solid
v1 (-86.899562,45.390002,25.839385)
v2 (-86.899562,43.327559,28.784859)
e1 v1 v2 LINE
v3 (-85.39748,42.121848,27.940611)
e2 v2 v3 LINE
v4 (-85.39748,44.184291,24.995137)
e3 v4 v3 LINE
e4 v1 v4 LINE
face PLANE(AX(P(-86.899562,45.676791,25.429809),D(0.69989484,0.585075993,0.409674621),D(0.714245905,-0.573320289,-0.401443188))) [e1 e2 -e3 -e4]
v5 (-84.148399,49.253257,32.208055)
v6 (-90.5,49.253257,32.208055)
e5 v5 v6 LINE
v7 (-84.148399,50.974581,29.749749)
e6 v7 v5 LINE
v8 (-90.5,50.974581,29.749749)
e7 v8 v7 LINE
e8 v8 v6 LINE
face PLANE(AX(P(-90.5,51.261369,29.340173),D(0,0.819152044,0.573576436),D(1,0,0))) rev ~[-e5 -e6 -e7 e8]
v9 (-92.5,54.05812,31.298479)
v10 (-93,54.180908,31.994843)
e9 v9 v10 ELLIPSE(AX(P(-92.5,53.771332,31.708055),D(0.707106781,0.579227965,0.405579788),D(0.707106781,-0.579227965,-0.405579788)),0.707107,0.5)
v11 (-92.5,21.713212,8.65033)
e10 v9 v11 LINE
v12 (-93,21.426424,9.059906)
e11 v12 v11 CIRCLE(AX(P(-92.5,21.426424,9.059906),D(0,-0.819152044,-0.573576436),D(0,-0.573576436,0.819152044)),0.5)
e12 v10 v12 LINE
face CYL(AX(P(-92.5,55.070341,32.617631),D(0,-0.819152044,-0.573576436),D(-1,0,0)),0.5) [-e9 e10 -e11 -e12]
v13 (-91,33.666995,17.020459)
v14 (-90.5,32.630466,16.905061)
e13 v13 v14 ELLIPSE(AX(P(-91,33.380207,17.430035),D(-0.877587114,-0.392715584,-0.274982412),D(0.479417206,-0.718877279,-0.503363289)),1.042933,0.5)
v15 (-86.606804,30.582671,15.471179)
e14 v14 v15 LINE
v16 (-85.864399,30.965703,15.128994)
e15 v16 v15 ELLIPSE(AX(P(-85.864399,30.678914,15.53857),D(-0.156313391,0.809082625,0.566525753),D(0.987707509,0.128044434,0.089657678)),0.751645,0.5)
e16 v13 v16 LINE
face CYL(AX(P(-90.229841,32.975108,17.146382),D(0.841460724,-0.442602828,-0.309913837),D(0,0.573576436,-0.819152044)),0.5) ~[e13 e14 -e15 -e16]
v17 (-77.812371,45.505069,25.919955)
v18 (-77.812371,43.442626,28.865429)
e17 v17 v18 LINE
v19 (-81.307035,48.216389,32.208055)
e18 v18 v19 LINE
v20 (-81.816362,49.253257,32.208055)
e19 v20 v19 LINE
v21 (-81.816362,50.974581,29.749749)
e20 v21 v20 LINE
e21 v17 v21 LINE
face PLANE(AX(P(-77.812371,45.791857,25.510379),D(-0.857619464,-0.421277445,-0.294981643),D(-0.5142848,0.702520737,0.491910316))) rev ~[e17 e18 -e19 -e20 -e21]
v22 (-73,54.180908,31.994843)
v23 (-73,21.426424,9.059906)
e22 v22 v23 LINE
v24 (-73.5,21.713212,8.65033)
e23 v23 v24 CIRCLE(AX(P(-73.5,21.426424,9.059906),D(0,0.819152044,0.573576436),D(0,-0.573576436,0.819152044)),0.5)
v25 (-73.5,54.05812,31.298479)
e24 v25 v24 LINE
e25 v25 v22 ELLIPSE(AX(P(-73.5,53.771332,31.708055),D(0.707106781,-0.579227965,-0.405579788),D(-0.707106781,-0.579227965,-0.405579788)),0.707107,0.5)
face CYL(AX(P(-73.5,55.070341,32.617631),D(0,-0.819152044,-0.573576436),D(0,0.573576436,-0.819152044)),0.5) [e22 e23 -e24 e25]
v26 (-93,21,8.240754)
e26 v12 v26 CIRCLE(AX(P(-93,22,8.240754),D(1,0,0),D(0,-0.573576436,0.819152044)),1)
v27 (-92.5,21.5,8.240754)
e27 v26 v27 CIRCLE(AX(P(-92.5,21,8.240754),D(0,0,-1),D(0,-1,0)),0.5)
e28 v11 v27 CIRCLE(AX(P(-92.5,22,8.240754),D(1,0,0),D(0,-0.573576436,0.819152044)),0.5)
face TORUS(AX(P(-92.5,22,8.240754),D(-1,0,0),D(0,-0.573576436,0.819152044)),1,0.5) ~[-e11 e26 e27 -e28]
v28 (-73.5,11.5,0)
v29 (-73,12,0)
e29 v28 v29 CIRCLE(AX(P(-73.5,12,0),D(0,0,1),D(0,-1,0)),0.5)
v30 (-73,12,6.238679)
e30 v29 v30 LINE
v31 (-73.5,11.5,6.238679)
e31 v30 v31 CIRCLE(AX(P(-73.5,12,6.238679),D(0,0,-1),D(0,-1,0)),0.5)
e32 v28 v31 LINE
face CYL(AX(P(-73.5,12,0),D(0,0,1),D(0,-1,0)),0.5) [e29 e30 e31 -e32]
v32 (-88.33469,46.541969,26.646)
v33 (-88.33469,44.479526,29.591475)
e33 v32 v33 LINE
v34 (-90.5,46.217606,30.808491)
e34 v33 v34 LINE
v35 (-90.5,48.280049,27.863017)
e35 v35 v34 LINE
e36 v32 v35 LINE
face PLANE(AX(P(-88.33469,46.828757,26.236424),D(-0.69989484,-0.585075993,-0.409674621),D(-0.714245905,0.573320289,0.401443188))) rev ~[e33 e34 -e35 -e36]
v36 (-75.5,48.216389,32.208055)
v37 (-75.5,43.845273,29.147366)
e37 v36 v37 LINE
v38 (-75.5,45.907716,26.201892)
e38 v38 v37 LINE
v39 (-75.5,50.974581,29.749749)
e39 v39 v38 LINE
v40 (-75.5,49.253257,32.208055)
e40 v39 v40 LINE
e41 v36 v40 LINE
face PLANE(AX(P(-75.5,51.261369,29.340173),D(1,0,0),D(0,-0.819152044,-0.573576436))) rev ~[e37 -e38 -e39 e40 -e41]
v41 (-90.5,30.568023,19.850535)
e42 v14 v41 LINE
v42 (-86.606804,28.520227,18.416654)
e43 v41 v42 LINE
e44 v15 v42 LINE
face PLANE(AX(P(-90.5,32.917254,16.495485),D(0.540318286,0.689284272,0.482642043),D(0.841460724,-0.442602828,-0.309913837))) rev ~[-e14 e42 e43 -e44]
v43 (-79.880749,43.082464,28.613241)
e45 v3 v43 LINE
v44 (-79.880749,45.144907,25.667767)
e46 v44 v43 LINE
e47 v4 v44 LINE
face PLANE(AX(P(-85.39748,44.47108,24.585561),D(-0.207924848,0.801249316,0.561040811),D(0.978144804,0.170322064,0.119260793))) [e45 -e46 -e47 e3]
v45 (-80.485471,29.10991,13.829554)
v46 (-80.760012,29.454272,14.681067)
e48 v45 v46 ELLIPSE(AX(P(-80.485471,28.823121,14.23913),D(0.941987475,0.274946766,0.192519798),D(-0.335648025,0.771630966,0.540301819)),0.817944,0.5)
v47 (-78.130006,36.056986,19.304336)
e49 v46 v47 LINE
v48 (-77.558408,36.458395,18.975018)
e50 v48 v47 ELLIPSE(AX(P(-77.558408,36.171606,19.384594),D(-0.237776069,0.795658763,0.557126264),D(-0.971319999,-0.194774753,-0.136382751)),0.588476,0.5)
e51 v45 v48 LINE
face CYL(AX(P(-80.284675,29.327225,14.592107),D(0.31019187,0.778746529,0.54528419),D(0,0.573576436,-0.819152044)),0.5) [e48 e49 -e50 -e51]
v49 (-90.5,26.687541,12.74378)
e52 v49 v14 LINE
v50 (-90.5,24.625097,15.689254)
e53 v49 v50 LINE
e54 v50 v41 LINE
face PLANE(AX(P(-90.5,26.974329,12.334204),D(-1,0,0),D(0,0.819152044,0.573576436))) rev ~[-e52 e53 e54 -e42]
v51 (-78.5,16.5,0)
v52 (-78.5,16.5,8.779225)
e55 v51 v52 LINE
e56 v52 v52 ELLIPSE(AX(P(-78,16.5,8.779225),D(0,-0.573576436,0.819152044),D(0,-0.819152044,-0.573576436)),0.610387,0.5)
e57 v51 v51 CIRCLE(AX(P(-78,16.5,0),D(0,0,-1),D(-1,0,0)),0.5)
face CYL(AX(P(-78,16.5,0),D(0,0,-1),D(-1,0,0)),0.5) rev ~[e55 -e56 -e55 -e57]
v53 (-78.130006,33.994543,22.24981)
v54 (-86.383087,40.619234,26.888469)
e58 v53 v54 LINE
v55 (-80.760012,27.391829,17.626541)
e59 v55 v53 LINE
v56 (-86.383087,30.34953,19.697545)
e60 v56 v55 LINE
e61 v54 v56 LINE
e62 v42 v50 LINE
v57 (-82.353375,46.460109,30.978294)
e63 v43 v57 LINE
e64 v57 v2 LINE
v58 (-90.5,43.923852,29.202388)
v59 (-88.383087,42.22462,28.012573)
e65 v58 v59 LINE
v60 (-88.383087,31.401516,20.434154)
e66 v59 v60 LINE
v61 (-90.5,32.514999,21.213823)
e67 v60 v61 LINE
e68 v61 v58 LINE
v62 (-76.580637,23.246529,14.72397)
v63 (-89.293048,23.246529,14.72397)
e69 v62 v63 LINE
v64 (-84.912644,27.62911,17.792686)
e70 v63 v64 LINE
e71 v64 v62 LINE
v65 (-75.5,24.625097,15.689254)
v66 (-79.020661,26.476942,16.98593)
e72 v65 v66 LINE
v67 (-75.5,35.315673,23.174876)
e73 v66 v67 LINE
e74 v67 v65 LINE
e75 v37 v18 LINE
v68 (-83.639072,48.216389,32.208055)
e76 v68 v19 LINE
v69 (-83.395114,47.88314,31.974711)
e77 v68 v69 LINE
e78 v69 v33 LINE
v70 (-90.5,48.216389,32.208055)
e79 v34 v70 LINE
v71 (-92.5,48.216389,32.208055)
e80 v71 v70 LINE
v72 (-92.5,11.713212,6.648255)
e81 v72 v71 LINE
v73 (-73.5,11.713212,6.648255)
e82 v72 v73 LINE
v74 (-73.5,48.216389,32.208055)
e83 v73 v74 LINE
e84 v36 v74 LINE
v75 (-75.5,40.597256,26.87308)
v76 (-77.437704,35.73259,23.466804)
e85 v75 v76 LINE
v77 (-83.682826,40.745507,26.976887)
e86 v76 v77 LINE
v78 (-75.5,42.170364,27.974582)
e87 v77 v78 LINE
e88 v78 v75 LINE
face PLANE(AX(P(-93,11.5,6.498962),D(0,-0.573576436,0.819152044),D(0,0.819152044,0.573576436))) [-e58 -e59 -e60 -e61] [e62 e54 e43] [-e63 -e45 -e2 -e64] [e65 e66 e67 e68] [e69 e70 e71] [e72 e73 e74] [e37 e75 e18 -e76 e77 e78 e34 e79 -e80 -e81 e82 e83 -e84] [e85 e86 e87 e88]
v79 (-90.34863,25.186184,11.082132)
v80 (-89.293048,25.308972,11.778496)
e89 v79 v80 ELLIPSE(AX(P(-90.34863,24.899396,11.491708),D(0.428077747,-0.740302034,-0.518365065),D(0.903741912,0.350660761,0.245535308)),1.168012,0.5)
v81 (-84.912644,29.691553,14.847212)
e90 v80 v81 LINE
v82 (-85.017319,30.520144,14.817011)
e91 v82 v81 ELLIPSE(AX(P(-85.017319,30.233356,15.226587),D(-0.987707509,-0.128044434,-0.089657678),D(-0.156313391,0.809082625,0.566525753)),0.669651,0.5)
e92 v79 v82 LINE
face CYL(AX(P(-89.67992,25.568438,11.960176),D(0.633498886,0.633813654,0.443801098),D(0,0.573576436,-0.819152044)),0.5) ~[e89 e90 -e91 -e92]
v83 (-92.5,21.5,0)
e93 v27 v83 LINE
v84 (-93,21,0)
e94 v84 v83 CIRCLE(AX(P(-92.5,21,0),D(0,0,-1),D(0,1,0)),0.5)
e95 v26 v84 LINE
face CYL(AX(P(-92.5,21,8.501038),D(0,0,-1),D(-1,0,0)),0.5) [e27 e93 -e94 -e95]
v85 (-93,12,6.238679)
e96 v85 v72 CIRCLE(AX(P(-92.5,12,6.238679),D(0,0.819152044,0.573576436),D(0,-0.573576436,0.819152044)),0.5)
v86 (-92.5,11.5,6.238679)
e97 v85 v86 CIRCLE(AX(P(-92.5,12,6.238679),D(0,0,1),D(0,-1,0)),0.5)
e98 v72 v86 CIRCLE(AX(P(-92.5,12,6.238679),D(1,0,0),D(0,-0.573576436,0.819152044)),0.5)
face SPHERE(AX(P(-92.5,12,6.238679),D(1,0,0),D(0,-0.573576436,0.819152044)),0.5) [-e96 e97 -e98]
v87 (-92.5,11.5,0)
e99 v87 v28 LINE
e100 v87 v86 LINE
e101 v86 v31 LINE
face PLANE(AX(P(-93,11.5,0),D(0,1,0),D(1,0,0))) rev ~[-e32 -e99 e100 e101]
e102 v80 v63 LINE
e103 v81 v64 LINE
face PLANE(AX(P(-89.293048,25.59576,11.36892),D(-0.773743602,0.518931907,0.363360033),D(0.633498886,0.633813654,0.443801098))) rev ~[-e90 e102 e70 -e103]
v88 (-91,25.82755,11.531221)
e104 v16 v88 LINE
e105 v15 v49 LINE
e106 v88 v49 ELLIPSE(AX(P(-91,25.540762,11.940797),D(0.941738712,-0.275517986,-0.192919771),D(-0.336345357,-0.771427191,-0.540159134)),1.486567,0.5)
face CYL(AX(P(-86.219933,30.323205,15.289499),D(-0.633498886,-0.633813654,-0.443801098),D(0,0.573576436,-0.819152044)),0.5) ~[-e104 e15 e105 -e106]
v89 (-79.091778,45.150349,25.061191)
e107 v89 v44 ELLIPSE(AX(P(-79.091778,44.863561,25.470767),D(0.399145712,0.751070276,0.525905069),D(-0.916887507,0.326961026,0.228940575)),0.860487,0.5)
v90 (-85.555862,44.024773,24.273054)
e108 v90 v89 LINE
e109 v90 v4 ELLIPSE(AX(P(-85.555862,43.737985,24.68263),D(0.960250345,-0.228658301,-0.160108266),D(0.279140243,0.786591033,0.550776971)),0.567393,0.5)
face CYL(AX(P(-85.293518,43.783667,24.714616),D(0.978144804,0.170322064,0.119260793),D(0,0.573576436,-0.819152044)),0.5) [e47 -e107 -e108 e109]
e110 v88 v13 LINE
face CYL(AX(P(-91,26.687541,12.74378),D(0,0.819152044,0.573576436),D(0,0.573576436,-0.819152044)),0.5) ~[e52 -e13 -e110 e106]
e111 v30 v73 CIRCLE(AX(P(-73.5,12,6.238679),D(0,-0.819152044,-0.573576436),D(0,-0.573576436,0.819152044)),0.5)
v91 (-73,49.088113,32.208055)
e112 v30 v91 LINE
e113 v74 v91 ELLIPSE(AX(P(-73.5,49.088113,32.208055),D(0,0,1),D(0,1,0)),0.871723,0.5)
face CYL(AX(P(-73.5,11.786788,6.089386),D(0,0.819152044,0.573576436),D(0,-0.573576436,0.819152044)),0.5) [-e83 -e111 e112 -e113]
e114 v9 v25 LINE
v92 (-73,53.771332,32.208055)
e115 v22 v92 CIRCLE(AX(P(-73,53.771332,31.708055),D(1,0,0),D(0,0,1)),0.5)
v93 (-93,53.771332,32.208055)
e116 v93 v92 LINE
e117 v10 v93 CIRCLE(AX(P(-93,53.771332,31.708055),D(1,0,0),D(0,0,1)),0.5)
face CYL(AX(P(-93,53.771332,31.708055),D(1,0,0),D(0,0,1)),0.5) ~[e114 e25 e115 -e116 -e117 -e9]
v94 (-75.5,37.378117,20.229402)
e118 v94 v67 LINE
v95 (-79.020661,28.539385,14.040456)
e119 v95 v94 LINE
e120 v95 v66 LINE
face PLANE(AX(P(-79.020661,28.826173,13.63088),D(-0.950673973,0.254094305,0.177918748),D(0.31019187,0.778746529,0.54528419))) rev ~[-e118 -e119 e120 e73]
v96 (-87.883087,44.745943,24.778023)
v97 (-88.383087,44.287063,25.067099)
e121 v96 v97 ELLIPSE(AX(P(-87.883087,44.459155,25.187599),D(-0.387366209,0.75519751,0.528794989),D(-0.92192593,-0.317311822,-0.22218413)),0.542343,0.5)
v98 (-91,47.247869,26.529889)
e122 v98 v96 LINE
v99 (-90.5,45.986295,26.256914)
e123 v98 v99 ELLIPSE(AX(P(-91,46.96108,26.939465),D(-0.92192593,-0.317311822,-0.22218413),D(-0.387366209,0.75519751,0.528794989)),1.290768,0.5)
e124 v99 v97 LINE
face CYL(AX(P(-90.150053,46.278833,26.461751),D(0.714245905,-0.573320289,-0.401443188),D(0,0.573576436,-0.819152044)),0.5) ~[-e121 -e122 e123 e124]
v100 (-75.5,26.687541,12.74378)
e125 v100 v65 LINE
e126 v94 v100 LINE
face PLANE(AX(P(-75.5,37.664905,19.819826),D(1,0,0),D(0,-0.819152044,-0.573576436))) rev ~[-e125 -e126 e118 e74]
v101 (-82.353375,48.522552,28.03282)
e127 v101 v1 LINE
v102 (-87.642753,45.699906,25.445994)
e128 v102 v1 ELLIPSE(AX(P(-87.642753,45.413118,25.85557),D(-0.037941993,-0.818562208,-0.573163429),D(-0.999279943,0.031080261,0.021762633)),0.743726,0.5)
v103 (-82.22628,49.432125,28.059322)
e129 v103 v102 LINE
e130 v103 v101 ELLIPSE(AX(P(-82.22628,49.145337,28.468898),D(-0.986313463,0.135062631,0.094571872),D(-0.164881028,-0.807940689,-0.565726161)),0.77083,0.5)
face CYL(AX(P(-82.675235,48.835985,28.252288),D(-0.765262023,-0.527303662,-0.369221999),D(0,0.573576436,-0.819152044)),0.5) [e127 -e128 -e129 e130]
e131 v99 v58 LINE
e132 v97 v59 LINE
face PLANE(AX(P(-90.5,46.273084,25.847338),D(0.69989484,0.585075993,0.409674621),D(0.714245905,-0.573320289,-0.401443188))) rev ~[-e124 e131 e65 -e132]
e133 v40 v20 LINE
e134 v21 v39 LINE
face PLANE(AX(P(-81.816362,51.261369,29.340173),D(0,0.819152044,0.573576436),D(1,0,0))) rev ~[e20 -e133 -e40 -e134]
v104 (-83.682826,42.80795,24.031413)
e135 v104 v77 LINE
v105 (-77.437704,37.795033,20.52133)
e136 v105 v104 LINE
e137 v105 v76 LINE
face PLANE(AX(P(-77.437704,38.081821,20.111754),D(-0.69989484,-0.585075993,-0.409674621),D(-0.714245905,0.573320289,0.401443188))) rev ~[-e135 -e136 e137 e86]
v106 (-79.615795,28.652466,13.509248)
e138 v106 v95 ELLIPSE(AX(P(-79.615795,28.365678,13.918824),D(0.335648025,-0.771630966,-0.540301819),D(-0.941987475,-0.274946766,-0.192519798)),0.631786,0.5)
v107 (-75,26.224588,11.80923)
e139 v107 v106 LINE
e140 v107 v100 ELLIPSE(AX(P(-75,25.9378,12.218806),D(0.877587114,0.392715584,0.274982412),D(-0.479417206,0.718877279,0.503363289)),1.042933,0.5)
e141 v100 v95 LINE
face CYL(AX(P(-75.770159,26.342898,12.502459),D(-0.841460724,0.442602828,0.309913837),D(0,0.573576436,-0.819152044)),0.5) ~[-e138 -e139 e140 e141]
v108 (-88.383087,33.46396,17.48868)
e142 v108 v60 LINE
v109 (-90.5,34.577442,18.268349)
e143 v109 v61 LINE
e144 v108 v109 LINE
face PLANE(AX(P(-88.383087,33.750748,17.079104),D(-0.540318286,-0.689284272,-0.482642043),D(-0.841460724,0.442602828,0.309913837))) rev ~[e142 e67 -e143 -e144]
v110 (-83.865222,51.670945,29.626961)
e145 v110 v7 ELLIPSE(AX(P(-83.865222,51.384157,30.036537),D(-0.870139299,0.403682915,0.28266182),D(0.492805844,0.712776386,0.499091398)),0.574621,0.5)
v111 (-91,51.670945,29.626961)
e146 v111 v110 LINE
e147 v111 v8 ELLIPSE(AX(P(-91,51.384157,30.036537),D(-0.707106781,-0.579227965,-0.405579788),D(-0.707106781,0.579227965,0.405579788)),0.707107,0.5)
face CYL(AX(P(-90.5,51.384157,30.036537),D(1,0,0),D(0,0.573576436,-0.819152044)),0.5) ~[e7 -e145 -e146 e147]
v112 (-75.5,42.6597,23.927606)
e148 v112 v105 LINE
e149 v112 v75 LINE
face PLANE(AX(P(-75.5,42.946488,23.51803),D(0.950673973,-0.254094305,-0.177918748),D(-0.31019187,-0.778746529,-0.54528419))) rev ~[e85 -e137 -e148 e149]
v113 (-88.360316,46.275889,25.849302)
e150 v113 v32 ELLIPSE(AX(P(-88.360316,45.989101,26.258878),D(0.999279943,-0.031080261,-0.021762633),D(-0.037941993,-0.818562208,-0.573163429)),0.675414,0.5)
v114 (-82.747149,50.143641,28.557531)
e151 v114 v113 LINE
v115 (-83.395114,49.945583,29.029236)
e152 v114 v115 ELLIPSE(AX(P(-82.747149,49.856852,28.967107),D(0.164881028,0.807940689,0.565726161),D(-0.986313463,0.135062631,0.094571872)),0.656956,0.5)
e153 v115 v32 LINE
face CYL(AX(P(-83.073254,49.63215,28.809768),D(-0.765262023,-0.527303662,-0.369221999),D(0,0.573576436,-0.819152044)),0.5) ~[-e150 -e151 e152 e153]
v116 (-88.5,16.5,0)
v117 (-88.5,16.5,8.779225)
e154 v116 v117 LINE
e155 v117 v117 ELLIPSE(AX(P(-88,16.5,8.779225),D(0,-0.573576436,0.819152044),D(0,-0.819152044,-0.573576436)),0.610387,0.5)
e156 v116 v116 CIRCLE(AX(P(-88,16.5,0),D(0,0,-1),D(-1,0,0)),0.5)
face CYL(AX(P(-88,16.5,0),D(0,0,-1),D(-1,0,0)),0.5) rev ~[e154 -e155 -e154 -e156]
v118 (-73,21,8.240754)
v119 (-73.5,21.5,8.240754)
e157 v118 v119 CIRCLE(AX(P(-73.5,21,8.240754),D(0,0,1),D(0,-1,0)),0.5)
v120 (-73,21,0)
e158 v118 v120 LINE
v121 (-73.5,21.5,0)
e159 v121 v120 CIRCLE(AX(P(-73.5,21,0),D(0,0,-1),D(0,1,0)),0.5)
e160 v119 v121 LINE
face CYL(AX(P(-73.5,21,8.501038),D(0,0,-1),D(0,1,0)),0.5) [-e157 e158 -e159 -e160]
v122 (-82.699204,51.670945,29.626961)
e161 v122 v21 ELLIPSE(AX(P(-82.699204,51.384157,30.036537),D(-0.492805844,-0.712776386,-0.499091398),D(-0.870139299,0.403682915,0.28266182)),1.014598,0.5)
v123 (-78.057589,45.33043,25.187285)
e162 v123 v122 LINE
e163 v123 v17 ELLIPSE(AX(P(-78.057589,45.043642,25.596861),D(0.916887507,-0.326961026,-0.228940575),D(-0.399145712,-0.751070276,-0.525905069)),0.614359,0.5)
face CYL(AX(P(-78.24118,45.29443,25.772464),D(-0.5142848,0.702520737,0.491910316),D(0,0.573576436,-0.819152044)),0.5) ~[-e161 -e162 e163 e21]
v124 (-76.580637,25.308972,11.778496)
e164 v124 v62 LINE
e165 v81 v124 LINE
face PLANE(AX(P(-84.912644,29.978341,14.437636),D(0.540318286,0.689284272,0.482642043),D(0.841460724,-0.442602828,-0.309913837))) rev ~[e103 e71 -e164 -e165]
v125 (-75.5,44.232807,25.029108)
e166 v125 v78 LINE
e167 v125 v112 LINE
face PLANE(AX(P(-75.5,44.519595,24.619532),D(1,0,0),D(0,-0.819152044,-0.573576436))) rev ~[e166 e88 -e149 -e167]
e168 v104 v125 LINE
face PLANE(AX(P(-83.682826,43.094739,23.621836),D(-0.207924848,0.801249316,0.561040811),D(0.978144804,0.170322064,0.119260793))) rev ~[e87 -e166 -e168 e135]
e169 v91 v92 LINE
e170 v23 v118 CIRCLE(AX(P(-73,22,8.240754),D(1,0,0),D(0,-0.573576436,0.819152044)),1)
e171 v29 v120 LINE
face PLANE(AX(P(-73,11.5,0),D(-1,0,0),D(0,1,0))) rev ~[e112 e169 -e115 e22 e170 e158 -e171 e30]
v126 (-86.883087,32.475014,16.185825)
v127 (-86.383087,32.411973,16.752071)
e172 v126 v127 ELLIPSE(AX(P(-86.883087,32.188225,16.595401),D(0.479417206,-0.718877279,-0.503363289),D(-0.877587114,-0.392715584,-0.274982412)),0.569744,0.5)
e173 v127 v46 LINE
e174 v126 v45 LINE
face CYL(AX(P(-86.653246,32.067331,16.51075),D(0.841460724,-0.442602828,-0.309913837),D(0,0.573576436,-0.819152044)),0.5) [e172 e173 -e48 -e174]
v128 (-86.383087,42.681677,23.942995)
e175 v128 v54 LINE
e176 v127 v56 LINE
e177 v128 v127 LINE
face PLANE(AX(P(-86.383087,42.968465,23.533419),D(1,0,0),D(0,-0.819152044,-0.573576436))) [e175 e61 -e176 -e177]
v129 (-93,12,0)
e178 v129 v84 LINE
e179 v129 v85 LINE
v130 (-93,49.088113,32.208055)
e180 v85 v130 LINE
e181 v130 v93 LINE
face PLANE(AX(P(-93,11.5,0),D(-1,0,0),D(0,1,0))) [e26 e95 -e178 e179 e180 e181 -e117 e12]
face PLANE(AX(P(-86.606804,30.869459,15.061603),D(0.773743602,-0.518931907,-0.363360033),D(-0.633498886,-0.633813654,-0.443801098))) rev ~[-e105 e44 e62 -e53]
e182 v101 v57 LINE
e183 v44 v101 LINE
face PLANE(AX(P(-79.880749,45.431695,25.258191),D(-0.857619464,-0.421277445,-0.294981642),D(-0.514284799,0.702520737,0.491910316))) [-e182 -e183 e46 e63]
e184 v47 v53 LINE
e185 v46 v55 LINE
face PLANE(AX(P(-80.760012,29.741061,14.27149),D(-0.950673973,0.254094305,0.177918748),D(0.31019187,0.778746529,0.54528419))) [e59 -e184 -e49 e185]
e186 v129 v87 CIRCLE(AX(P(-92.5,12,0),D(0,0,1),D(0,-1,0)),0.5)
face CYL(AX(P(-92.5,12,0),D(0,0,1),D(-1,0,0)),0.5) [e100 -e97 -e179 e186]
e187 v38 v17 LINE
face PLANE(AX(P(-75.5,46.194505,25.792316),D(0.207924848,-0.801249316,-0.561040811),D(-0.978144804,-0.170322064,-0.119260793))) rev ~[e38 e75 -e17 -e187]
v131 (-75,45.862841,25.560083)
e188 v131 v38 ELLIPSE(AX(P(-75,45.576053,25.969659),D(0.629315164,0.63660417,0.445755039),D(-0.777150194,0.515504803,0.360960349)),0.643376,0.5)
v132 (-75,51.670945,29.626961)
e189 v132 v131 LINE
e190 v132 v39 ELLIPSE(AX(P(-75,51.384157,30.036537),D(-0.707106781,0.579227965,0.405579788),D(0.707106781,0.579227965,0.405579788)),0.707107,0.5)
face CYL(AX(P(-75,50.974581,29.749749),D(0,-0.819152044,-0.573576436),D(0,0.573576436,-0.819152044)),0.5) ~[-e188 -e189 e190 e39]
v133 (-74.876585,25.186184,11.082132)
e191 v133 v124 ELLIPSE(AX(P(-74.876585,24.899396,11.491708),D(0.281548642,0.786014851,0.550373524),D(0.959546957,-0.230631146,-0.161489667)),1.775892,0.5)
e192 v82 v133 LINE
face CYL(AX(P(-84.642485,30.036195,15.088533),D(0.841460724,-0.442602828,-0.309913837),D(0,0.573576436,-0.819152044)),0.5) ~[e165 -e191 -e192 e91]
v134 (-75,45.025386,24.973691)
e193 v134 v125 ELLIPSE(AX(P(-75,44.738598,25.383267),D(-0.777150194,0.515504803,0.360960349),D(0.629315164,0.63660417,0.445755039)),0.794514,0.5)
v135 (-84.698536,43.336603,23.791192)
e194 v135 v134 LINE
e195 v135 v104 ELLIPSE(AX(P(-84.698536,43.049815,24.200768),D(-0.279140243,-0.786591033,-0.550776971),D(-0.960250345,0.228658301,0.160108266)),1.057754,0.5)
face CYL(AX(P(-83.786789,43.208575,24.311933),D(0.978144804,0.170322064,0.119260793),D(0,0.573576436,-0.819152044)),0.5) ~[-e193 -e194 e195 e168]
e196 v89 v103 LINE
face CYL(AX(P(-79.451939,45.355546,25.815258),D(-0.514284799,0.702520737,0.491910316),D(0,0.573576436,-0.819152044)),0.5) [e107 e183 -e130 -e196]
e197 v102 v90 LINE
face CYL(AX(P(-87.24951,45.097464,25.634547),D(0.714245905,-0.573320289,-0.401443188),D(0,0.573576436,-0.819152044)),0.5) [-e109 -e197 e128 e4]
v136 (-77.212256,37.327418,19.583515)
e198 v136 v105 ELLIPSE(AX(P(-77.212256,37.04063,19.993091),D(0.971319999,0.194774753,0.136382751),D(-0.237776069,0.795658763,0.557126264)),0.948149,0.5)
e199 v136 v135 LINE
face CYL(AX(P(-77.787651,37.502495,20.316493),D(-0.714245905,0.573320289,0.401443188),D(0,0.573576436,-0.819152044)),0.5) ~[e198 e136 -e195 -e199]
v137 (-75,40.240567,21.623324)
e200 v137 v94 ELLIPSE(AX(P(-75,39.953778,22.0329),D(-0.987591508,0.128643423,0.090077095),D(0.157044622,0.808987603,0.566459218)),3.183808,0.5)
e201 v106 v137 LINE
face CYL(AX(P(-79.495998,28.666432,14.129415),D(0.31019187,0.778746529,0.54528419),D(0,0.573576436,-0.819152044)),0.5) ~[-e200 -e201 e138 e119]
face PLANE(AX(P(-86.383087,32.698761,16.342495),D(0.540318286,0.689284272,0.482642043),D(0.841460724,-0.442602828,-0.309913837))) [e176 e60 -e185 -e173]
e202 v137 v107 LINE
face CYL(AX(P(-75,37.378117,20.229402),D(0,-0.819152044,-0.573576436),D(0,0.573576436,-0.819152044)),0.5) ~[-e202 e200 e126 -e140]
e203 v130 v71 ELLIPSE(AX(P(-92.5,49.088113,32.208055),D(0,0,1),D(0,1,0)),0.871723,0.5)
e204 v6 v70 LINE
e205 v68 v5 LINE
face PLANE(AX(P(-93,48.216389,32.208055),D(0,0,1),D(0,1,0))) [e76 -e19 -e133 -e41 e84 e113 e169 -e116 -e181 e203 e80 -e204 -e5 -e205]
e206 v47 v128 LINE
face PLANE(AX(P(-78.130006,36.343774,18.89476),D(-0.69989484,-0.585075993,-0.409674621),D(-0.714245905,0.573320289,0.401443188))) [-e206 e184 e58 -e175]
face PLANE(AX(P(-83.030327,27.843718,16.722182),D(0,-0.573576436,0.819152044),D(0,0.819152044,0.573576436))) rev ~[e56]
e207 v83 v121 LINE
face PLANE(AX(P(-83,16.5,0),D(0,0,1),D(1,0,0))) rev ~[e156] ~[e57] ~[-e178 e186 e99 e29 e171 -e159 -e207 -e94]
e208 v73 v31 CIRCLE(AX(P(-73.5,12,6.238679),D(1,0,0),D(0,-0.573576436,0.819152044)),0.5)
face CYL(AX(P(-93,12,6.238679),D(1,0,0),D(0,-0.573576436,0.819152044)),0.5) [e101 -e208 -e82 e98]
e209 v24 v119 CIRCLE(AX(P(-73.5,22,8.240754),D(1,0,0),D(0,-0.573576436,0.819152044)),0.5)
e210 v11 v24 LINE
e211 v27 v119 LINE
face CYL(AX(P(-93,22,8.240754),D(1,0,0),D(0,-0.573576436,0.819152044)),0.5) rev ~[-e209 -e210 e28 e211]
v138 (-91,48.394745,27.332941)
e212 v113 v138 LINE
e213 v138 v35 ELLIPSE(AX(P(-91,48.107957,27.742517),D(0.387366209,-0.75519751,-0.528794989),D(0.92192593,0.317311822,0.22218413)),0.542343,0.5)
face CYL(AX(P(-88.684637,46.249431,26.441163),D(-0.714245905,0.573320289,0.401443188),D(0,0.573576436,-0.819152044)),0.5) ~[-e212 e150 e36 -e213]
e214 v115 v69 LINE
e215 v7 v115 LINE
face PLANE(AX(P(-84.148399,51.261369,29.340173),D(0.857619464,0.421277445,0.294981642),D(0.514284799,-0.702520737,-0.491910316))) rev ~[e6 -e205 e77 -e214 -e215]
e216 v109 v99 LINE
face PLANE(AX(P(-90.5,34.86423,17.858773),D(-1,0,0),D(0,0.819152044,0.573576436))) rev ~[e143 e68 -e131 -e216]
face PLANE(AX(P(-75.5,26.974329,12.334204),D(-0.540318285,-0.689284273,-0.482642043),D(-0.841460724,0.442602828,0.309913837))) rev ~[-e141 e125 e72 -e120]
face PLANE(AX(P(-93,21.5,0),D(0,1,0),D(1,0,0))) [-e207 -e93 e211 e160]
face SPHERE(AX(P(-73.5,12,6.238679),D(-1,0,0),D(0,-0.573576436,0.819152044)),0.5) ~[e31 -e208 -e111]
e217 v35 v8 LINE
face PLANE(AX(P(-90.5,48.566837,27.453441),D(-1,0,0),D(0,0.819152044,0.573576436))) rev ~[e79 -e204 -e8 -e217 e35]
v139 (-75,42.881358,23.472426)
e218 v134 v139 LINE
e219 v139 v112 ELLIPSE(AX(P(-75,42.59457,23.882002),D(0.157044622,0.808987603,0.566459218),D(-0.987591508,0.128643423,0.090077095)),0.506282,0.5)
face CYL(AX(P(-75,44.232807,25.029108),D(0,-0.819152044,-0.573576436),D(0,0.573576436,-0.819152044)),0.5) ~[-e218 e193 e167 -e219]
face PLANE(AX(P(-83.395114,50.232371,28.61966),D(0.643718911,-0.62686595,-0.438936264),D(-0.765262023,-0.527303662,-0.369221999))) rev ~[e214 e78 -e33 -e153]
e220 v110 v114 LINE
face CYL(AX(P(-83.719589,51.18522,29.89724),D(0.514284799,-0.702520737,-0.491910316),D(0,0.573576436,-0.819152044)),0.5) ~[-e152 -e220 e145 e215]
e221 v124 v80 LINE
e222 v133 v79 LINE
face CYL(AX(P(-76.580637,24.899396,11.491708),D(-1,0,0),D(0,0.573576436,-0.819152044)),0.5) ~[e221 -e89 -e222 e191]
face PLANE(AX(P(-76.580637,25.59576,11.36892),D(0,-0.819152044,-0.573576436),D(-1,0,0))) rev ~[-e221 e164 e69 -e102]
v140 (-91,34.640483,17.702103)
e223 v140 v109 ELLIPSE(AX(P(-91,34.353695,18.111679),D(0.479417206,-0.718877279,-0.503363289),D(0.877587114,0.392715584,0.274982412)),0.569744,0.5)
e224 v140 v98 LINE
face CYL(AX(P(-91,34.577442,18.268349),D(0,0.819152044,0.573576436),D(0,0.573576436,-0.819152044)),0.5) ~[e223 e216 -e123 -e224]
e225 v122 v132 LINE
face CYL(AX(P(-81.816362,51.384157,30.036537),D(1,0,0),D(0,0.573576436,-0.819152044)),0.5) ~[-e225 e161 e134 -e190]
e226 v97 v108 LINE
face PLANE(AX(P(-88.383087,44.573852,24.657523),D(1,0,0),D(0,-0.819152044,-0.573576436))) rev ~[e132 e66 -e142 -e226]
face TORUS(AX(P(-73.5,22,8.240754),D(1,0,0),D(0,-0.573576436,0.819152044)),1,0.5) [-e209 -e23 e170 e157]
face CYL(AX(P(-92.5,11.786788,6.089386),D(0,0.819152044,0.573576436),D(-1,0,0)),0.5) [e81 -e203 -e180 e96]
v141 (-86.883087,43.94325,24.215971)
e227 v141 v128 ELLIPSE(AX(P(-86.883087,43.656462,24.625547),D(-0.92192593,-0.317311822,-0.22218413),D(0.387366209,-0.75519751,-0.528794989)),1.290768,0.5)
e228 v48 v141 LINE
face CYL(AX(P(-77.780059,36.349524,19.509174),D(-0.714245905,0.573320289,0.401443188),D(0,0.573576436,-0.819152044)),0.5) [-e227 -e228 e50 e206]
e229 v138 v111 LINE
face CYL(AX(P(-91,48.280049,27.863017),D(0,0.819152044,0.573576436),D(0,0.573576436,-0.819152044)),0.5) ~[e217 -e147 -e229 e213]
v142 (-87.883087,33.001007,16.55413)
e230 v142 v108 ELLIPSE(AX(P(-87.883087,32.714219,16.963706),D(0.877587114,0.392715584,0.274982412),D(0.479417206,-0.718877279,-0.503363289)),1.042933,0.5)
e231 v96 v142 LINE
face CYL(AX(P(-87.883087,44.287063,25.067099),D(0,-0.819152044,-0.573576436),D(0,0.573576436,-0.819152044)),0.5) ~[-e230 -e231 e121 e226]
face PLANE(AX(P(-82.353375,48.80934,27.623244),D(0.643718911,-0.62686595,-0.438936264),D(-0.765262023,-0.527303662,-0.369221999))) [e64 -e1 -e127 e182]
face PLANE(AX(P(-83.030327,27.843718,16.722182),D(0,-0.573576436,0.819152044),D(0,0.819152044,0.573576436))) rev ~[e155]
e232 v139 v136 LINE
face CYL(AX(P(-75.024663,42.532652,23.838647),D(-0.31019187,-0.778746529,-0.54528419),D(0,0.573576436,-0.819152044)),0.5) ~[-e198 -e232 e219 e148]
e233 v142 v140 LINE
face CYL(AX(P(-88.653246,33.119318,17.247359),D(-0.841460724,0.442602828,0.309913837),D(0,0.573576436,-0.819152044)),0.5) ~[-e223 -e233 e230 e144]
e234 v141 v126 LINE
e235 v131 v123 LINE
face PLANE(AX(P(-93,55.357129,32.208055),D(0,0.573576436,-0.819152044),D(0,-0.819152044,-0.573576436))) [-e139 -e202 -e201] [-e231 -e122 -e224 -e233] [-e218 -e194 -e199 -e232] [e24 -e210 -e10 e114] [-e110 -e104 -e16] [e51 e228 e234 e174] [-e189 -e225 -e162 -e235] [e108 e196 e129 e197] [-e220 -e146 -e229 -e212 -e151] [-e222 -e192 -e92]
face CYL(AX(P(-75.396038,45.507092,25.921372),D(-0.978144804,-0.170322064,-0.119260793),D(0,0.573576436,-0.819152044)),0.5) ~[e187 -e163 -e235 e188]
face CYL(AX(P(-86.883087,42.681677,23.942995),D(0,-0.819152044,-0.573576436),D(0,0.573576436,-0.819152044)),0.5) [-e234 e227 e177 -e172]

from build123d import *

# Parameters (mm, degrees)
SKETCH1_W                        = 20
SKETCH1_H                        = 10
BOSS_EXTRUDE1_DEPTH              = 5
BOSS_EXTRUDE2_DEPTH              = 20
CUT_EXTRUDE1_DEPTH               = 4.09576
FILLET1_R                        = 0.5
CUT_EXTRUDE2_REACH               = 35.208
CUT_EXTRUDE2_OFFSET_FROM_SURFACE = 1
SKETCH4_R                        = 0.5


with BuildPart() as part:
    # Sketch1 → Boss-Extrude1 (new body)
    with BuildSketch(Plane.XY):
        with Locations((-83, 16.5)):
            Rectangle(SKETCH1_W, SKETCH1_H)
    extrude(amount=BOSS_EXTRUDE1_DEPTH)

    # Sketch2 → Boss-Extrude2 (add)
    with BuildSketch(Plane.ZY.offset(93)):
        Polygon((5, 16.5), (1.498962309, 11.5), (6.498962309, 11.5), (32.208054955, 48.216389418), (32.208054955, 55.357129452), (8.501037691, 21.5), (5, 21.5), align=None)
    extrude(amount=-BOSS_EXTRUDE2_DEPTH)

    # Sketch3 → Cut-Extrude1 (cut)
    with BuildSketch(Plane(origin=(0, 3.079102266, -4.397413763), x_dir=(-1, 0, 0), z_dir=(0, 0.573576436, -0.819152044))):
        Polygon((90.5, 29.170685305), (90.5, 36.425657649), (86.606804382, 33.925761075), align=None)
        Polygon((76.580636571, 27.487763856), (89.293048323, 27.487763856), (84.912643674, 32.837907557), align=None)
        Polygon((79.020661139, 31.431370249), (75.5, 42.221469006), (75.5, 29.170685305), align=None)
        Polygon((83.682826439, 48.850072065), (75.5, 50.589500561), (75.5, 48.669091242), (77.437703633, 42.730430083), align=None)
        Polygon((77.812370658, 52.142645531), (81.816362113, 58.81968714), (75.5, 58.81968714), (75.5, 52.634187597), align=None)
        Polygon((90.5, 55.53027081), (90.5, 58.81968714), (84.148398738, 58.81968714), (83.395113947, 57.563512158), (88.334689519, 53.40846707), align=None)
        Polygon((86.899562452, 52.002175453), (85.397480311, 50.530274064), (79.880748536, 51.702969161), (82.353375162, 55.826312344), align=None)
        Polygon((90.5, 38.802476843), (90.5, 52.730114749), (88.38308654, 50.655735608), (88.38308654, 37.443165566), align=None)
        Polygon((86.38308654, 36.158926695), (80.76001209, 32.548241301), (78.130006045, 40.608666271), (86.38308654, 48.69592083), align=None)
    extrude(amount=-CUT_EXTRUDE1_DEPTH, mode=Mode.SUBTRACT)

    # Fillet1
    fillet1_edges = [part.edges().sort_by_distance(p)[0] for p in [
        (-88.38308654, 39.162299764, 20.868313128),
        (-90.5, 40.568657026, 21.853055085),
        (-89.44154327, 34.307489189, 17.468938167),
        (-89.44154327, 45.423467601, 25.252430045),
        (-85.864901733, 48.530564087, 27.428042427),
        (-90.5, 49.914103175, 28.396806926),
        (-87.324199369, 51.26136923, 29.340172774),
        (-89.41734476, 47.697797184, 26.844932764),
        (-83.771756342, 50.746870078, 28.979916589),
        (-84.626468807, 47.243065371, 26.526526121),
        (-81.117061849, 47.120517648, 26.440717281),
        (-82.639114423, 44.951387357, 24.9218759),
        (-86.148521381, 45.07393508, 25.007684739),
        (-88.553402191, 31.893356499, 15.778544259),
        (-88.553402191, 28.921893785, 13.697903667),
        (-90.5, 29.94579148, 14.414844551),
        (-83, 21.5, 8.501037691),
        (-83, 55.357129452, 32.208054955),
        (-83, 11.5, 6.498962309),
        (-93, 29.858194709, 19.353508632),
        (-93, 38.428564726, 20.354546323),
        (-73, 38.428564726, 20.354546323),
        (-73, 29.858194709, 19.353508632),
        (-80.560265036, 40.588280041, 21.866795268),
        (-76.468851816, 40.514154635, 21.814892099),
        (-79.59141322, 43.807166866, 24.120684086),
        (-75.5, 43.73304146, 24.068780918),
        (-73, 11.5, 3.249481154),
        (-76.656185329, 45.993180791, 25.651347516),
        (-93, 11.5, 3.249481154),
        (-79.814366386, 48.526613089, 27.425275908),
        (-78.658181056, 51.26136923, 29.340172774),
        (-75.5, 48.727936933, 27.566244381),
        (-93, 21.5, 4.250518846),
        (-73, 21.5, 4.250518846),
        (-87.102845999, 27.787050796, 12.903278052),
        (-80.746640123, 27.787050796, 12.903278052),
        (-82.936842447, 25.595760221, 11.368919873),
        (-77.26033057, 27.900251113, 12.982541767),
        (-77.26033057, 33.245539188, 16.725352771),
        (-75.5, 32.319616841, 16.077014963),
        (-86.38308654, 37.833613175, 19.937956762),
        (-82.256546293, 39.65611981, 21.214089647),
        (-79.445009068, 33.042417461, 16.583125407),
        (-83.571549315, 31.219910826, 15.306992522),
    ]]
    fillet(fillet1_edges, radius=FILLET1_R)

    # Cut-Extrude2: up to this face of the body (flat: up to its plane, moved by the offset)
    cut_extrude2_end = Plane(part.part.faces().sort_by_distance((-83.030327421, 27.270141069, 17.541333964))[0]).offset(-CUT_EXTRUDE2_OFFSET_FROM_SURFACE)
    # Sketch4 → Cut-Extrude2 (cut, up to the picked face)
    with BuildSketch(Plane(origin=(0, 0, 0), x_dir=(-1, 0, 0), z_dir=(0, 0, -1)), mode=Mode.PRIVATE) as cut_extrude2_sk1:
        with Locations((78, 16.5)):
            Circle(SKETCH4_R)
    cut_extrude2_tool1 = split(extrude(cut_extrude2_sk1.sketch, amount=-CUT_EXTRUDE2_REACH, mode=Mode.PRIVATE), bisect_by=cut_extrude2_end, keep=Keep.BOTH, mode=Mode.PRIVATE)
    add(cut_extrude2_tool1.solids().sort_by_distance((-78, 16.5, 0))[0], mode=Mode.SUBTRACT)
    # Sketch4 → Cut-Extrude2 (cut, up to the picked face)
    with BuildSketch(Plane(origin=(0, 0, 0), x_dir=(-1, 0, 0), z_dir=(0, 0, -1)), mode=Mode.PRIVATE) as cut_extrude2_sk2:
        with Locations((88, 16.5)):
            Circle(SKETCH4_R)
    cut_extrude2_tool2 = split(extrude(cut_extrude2_sk2.sketch, amount=-CUT_EXTRUDE2_REACH, mode=Mode.PRIVATE), bisect_by=cut_extrude2_end, keep=Keep.BOTH, mode=Mode.PRIVATE)
    add(cut_extrude2_tool2.solids().sort_by_distance((-88, 16.5, 0))[0], mode=Mode.SUBTRACT)


solid = part.part
